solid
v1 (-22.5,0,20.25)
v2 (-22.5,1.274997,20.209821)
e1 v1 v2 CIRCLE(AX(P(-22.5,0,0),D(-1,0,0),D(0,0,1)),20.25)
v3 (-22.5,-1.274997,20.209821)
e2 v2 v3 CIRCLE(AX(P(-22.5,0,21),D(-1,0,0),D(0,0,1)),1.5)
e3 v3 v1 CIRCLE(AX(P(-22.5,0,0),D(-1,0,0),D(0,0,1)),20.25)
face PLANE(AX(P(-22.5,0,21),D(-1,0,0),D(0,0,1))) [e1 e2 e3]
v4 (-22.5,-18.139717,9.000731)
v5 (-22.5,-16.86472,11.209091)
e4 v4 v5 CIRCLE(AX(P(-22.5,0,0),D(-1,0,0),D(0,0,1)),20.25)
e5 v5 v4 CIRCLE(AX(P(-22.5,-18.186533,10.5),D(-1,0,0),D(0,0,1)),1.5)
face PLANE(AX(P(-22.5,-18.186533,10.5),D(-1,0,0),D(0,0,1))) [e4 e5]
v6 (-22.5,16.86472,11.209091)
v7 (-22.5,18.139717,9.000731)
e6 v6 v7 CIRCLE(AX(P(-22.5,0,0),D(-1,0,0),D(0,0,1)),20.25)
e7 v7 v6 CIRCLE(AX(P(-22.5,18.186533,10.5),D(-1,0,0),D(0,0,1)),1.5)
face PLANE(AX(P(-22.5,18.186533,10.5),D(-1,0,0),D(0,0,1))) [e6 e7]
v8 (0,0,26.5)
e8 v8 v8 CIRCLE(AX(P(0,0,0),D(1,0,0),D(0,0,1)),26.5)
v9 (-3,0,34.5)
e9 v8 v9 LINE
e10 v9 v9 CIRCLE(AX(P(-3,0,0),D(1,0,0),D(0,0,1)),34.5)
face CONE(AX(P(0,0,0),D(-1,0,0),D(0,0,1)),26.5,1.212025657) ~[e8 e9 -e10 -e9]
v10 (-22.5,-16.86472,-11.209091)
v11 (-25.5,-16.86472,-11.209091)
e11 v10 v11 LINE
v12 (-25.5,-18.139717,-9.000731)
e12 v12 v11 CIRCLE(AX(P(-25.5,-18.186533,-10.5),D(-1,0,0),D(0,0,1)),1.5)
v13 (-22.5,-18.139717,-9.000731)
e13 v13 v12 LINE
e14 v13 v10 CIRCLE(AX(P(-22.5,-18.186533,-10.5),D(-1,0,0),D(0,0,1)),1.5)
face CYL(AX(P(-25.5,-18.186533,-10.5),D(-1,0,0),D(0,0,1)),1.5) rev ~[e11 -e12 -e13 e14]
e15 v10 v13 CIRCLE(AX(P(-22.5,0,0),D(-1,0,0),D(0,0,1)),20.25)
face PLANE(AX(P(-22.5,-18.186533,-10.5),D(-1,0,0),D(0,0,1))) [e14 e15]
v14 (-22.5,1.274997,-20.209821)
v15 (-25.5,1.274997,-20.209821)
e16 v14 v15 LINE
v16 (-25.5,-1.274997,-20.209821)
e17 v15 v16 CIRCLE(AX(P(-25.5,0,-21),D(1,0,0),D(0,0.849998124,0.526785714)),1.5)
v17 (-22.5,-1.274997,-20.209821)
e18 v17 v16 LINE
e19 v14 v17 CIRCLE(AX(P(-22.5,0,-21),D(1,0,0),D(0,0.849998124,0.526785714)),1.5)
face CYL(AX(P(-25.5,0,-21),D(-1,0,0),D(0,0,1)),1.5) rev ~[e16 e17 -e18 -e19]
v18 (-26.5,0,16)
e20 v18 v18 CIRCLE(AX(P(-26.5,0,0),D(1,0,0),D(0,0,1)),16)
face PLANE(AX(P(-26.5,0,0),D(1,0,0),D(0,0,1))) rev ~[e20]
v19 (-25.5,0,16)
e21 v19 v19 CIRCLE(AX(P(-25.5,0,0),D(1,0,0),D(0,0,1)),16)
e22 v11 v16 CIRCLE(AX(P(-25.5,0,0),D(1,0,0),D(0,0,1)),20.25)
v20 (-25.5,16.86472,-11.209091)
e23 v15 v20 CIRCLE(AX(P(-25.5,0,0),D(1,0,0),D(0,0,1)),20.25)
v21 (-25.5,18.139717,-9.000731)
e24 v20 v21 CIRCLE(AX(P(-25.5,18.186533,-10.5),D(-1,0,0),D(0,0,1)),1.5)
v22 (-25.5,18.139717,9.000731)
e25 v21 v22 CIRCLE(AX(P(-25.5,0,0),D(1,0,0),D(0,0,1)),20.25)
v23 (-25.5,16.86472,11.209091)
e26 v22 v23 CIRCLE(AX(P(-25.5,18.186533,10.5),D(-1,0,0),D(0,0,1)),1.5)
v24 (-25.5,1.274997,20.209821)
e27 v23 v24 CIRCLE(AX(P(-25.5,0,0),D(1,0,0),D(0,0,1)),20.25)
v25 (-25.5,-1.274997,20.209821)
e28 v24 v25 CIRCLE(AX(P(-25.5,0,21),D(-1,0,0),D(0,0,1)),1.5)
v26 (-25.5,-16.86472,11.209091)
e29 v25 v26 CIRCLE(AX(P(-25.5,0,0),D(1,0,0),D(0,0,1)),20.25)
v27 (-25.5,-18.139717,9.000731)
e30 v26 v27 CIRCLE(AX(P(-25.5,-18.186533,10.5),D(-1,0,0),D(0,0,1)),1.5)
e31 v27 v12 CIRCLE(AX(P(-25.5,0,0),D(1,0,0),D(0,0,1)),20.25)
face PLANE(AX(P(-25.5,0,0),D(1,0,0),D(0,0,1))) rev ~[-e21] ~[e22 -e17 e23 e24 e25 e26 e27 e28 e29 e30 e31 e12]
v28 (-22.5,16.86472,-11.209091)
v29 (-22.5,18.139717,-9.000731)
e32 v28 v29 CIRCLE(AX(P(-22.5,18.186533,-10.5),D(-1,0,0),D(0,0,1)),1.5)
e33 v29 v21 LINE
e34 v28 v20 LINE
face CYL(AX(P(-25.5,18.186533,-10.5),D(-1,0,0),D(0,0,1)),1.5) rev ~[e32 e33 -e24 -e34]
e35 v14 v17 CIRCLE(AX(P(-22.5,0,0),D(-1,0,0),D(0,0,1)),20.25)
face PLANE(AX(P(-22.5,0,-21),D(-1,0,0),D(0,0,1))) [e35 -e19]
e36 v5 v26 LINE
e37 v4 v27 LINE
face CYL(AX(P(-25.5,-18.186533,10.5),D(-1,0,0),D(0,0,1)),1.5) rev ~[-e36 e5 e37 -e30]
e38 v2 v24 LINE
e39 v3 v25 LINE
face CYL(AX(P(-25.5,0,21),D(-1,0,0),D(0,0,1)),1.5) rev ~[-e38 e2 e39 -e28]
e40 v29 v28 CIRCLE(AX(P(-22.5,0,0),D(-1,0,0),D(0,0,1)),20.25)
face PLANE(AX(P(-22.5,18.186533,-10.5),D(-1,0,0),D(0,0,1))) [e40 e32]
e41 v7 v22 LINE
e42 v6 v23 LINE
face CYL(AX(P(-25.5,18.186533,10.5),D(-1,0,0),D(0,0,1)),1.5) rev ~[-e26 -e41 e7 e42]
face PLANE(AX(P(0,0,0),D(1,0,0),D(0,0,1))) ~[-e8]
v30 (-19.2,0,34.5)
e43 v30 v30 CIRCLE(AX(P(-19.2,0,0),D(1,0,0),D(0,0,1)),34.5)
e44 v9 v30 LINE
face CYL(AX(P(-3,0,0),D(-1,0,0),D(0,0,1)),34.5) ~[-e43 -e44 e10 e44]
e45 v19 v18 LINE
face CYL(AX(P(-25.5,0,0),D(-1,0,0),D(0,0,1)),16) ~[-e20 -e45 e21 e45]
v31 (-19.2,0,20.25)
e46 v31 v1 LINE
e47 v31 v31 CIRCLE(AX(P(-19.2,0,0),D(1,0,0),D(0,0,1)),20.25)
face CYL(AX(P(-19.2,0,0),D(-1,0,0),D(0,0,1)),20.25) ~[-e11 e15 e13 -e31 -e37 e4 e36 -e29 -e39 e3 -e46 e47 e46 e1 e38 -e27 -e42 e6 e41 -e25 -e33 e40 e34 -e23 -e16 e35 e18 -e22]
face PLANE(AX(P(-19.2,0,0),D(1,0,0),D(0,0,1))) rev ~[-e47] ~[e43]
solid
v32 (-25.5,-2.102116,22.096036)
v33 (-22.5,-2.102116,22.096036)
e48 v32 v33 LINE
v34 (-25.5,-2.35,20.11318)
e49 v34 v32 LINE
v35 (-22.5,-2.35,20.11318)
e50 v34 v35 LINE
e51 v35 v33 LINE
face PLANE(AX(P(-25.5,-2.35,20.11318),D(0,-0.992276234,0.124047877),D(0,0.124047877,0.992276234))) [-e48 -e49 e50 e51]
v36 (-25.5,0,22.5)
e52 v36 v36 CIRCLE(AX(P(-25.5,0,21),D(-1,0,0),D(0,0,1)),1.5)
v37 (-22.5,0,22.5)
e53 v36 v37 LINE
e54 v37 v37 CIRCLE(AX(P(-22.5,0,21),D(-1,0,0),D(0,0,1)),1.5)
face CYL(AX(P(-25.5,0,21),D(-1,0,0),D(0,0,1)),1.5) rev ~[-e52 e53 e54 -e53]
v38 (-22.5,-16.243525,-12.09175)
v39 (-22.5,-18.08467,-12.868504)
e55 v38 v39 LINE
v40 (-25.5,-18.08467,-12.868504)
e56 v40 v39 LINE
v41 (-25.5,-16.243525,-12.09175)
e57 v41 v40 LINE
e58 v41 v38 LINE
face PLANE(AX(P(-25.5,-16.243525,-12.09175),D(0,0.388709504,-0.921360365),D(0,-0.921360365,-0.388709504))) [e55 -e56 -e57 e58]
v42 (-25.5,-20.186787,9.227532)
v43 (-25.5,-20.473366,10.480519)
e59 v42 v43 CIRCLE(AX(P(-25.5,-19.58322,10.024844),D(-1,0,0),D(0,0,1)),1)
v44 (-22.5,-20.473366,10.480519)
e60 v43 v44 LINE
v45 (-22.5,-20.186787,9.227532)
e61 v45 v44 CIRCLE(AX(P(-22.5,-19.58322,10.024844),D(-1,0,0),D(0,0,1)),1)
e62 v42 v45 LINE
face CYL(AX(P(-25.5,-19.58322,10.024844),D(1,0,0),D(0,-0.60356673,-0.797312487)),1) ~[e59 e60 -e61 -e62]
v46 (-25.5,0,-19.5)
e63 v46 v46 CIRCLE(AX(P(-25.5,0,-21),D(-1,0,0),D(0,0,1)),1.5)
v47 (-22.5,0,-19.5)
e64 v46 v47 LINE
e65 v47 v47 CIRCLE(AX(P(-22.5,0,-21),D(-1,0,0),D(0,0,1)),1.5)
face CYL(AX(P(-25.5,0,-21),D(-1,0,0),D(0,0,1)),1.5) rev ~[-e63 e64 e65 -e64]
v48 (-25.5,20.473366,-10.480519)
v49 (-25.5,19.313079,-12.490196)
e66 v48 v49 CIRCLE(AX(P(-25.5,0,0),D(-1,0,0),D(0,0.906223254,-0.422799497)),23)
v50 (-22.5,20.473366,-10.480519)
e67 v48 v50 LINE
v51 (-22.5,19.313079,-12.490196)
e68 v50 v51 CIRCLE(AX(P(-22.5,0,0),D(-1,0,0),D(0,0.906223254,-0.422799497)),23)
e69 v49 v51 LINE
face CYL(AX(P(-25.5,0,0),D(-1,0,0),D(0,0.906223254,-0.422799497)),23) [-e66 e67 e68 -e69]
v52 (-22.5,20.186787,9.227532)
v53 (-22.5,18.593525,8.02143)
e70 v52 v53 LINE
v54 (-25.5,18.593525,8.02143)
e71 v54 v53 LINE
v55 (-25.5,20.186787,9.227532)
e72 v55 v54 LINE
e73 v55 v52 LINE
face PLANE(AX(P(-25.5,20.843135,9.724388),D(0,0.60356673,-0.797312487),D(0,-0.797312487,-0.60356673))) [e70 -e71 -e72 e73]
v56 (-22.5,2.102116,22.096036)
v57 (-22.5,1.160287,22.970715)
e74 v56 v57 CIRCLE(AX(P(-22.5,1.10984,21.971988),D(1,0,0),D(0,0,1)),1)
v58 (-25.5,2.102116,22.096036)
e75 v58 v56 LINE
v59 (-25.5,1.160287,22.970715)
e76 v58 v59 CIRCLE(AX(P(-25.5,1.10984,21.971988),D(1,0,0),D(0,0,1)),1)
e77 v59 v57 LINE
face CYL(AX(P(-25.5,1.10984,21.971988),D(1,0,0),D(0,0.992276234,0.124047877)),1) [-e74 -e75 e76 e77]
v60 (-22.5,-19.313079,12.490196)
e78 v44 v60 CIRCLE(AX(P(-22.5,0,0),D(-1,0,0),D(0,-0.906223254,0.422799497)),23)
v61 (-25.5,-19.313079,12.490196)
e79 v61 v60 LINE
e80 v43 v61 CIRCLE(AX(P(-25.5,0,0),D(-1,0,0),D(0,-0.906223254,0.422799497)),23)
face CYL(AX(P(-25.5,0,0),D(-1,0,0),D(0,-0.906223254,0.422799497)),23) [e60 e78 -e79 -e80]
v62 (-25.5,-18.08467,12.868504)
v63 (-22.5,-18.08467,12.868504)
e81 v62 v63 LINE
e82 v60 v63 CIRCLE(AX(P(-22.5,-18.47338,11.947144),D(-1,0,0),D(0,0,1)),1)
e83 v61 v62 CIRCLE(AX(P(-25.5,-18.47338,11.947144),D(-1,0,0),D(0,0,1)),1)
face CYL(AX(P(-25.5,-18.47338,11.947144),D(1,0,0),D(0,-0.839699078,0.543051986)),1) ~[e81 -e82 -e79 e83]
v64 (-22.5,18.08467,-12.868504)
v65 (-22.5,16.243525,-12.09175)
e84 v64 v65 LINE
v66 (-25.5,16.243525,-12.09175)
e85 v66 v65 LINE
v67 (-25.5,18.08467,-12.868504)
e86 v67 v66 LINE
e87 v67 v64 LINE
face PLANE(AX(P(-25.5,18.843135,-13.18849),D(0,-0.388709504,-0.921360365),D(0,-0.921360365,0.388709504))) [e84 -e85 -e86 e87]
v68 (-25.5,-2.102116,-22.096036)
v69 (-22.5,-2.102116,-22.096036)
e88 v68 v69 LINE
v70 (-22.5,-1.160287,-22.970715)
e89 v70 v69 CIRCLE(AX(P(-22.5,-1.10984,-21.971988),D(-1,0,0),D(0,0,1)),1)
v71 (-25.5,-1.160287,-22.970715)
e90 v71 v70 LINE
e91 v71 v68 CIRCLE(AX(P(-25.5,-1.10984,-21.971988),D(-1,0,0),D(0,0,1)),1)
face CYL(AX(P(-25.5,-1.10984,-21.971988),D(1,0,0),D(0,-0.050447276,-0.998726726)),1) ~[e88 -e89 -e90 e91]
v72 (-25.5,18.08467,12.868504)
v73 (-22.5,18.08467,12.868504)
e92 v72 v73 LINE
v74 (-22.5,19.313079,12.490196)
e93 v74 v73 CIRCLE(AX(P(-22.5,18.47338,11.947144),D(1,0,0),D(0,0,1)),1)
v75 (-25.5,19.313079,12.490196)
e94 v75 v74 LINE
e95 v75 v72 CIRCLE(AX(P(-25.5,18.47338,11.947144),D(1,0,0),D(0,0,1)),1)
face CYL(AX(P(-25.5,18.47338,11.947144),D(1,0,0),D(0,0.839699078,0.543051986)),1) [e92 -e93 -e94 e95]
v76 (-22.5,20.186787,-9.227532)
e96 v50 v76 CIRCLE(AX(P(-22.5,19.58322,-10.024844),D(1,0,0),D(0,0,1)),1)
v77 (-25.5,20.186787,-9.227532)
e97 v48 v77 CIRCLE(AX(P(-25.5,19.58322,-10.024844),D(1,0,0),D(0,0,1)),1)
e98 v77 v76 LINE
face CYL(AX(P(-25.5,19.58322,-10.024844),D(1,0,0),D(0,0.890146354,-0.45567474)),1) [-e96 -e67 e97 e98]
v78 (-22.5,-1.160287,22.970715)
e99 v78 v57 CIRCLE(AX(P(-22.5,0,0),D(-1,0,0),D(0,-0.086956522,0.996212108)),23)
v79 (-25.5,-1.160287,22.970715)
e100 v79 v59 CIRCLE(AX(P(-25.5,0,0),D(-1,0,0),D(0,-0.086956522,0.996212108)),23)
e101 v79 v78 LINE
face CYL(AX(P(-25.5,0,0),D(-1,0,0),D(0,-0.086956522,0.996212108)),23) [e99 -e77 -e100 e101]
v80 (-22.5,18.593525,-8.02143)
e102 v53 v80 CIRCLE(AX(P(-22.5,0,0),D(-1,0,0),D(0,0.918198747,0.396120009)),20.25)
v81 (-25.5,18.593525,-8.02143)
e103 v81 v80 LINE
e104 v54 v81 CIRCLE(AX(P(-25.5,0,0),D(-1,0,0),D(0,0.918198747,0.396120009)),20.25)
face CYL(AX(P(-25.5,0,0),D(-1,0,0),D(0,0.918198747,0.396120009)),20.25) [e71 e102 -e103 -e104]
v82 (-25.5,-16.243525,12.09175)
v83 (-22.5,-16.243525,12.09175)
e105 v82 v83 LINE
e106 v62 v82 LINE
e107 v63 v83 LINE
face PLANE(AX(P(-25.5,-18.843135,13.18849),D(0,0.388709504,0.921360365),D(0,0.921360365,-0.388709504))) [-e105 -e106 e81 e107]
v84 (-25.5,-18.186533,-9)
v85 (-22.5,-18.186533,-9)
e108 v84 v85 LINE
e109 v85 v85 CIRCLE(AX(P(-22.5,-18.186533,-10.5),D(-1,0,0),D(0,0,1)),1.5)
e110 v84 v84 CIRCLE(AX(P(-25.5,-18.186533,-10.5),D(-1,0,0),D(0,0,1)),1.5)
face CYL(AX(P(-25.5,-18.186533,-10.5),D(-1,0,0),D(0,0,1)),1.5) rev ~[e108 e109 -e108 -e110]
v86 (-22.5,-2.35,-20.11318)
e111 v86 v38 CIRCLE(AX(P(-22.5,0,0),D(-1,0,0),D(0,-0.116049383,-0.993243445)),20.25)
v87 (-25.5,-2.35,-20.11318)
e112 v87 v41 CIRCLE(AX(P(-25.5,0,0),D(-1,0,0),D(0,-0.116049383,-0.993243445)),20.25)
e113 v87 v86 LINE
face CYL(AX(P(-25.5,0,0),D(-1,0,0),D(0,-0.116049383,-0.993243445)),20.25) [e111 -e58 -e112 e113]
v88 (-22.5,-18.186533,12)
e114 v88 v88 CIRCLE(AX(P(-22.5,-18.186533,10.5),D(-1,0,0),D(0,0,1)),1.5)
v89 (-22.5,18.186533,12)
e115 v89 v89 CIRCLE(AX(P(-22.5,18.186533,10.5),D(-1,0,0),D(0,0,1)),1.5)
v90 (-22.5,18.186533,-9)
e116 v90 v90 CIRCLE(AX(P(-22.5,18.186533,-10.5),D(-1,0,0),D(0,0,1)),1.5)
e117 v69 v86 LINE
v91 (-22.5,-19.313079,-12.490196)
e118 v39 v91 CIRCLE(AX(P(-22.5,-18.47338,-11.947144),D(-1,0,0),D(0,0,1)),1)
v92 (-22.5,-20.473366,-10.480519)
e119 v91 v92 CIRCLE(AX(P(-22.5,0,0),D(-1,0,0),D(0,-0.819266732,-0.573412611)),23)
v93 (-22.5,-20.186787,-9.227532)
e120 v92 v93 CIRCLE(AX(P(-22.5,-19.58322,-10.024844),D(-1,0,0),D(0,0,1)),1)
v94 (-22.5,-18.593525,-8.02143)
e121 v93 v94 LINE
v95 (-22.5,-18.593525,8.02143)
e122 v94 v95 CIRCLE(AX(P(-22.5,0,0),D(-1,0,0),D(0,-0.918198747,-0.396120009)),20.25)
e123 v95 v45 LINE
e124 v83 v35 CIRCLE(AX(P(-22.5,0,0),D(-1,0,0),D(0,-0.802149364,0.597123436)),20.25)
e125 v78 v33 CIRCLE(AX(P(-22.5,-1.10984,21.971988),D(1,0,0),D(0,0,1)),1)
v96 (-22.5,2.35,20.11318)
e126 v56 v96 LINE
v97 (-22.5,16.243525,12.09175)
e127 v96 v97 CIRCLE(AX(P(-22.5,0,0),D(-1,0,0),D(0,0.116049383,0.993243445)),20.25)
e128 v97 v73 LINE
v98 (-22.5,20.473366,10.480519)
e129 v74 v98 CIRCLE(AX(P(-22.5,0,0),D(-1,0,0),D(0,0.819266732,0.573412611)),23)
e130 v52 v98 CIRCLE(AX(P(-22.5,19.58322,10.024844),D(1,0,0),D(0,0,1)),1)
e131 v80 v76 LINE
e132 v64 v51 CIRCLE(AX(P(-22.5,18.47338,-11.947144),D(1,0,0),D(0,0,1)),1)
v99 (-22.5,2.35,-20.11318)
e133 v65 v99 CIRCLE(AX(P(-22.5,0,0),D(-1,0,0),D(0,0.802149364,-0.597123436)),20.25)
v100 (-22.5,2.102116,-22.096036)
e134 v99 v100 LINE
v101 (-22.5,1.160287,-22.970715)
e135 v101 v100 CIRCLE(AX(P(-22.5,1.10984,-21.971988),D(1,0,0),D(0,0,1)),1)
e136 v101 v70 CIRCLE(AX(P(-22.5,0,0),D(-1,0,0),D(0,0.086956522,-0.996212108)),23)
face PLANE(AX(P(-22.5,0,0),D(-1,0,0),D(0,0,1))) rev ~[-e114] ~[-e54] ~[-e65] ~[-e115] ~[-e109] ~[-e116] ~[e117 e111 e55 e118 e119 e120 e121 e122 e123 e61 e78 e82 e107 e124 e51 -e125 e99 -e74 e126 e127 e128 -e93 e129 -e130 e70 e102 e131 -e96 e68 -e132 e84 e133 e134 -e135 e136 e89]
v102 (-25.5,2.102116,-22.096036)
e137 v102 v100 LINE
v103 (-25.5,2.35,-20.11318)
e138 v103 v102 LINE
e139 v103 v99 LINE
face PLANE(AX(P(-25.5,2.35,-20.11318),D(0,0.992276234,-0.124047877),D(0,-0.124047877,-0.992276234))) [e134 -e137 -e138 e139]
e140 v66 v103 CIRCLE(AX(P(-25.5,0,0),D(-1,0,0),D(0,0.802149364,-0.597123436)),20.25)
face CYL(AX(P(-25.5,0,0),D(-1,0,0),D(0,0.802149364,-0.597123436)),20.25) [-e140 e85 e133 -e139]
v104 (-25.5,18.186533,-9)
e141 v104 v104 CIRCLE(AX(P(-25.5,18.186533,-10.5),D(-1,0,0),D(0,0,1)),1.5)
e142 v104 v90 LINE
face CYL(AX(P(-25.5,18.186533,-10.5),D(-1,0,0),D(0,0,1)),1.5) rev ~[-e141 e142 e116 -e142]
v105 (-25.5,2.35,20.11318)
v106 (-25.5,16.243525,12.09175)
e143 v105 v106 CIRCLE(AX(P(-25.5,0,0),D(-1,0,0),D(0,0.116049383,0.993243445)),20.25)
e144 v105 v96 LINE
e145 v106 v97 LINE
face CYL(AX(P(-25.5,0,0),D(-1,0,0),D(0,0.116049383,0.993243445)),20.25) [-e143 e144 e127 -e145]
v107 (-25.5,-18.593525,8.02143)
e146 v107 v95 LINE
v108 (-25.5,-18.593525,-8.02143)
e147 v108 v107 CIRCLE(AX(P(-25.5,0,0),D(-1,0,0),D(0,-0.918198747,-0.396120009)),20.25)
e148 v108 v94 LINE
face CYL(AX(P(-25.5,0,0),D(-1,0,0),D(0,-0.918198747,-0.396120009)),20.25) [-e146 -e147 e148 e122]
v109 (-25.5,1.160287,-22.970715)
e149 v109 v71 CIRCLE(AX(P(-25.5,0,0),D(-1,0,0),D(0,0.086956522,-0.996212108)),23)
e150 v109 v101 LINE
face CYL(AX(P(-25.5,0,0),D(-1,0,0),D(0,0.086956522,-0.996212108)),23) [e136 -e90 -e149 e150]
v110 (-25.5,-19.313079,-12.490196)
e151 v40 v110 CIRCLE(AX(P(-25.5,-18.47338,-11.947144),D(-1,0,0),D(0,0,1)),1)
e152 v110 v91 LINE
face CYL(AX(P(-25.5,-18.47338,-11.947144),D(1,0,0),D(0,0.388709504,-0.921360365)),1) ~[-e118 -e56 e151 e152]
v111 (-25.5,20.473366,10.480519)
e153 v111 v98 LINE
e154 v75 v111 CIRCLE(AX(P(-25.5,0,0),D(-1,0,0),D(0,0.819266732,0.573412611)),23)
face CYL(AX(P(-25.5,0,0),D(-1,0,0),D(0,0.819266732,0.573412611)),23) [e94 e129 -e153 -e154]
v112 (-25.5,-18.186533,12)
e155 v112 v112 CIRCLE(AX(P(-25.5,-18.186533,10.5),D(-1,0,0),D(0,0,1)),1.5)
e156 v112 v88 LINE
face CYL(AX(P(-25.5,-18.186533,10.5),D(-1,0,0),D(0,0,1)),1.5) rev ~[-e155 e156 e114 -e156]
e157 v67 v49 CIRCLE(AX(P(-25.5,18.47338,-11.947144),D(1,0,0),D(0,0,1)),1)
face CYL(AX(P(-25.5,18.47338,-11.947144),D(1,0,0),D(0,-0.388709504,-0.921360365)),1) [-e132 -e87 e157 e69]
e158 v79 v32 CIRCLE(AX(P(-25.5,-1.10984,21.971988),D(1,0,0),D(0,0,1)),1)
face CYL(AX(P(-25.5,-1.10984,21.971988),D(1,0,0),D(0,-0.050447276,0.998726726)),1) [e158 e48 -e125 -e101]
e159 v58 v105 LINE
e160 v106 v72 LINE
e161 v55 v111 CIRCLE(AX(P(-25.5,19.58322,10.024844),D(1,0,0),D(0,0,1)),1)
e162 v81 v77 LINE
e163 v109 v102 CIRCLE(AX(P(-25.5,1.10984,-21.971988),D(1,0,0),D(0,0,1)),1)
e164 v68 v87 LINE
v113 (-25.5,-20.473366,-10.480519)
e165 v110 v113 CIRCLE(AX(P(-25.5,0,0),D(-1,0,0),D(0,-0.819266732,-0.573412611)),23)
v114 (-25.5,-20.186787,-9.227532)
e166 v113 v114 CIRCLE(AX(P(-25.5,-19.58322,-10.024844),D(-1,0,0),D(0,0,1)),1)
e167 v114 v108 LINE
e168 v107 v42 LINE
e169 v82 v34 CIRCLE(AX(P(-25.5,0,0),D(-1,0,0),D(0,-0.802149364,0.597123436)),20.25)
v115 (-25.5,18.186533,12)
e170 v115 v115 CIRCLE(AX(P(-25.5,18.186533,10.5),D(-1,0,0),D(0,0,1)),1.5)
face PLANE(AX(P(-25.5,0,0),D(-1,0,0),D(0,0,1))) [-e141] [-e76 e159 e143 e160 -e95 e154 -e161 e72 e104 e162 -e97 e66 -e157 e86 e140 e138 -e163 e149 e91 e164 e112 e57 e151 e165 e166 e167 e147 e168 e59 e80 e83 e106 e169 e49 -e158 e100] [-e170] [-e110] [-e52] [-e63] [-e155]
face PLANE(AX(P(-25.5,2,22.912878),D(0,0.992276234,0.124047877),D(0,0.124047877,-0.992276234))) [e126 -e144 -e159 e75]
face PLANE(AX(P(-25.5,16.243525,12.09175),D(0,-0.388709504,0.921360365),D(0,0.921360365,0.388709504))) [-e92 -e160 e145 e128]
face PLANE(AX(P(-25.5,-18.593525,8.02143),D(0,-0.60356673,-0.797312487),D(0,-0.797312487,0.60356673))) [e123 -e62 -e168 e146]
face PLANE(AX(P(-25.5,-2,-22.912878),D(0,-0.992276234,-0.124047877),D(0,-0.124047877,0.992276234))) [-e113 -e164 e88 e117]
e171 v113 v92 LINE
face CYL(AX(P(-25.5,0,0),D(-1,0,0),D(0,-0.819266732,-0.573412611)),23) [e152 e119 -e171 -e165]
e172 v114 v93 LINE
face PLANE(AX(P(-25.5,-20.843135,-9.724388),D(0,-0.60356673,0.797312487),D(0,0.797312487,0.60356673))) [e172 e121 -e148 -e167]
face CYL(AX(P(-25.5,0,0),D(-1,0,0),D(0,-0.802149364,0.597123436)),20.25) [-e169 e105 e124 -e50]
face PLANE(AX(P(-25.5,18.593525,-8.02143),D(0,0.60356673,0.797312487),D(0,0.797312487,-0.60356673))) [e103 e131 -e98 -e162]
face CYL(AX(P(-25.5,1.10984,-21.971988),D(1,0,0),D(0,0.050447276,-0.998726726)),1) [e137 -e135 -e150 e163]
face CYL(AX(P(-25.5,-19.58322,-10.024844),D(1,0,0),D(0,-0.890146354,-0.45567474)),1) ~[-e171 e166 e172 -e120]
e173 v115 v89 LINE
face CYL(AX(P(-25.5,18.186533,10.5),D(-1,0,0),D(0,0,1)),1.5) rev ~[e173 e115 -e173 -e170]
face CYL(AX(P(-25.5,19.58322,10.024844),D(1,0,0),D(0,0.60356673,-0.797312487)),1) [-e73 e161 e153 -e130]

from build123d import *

# Parameters (mm, degrees)
SKETCH2_R           = 1.5
SKETCH2_R_2         = 20.25
SKETCH2_R_3         = 16
BOSS_EXTRUDE2_DEPTH = 3
SKETCH2_3_R         = 1.5
CUT_EXTRUDE1_DEPTH  = 3
FILLET1_R           = 1


with BuildPart() as part:
    # Sketch1 → Revolve1 (revolve)
    with BuildSketch(Plane.XY, mode=Mode.PRIVATE) as revolve1_sk:
        Polygon((0, 0), (0, 26.5), (-3, 34.5), (-19.2, 34.5), (-19.2, 20.25), (-25.5, 20.25), (-25.5, 16), (-26.5, 16), (-26.5, 0), align=None)
    revolve(revolve1_sk.sketch.rotate(Axis((-26.134704071, 0, 0), (1, 0, 0)), 90), axis=Axis((-26.134704071, 0, 0), (1, 0, 0)))


with BuildPart() as body_2:
    # Sketch2 → Boss-Extrude2 (new body)
    # profile 1 of 26: a face of its own
    with BuildSketch(Plane.ZY.offset(25.5)):
        with Locations((10.5, -18.186533479)):
            Circle(SKETCH2_R)
    # profile 2 of 26: a face of its own
    with BuildSketch(Plane.ZY.offset(25.5)):
        Circle(SKETCH2_R_2)
    # profile 3 of 26: a face of its own
    with BuildSketch(Plane.ZY.offset(25.5)):
        with Locations((10.5, -18.186533479)):
            Circle(SKETCH2_R)
    # profile 4 of 26: a face of its own
    with BuildSketch(Plane.ZY.offset(25.5)):
        Circle(SKETCH2_R_2)
    # profile 5 of 26: a face of its own
    with BuildSketch(Plane.ZY.offset(25.5)):
        with Locations((-10.5, -18.186533479)):
            Circle(SKETCH2_R)
    # profile 6 of 26: a face of its own
    with BuildSketch(Plane.ZY.offset(25.5)):
        Circle(SKETCH2_R_2)
    # profile 7 of 26: a face of its own
    with BuildSketch(Plane.ZY.offset(25.5)):
        with Locations((21, 0)):
            Circle(SKETCH2_R)
    # profile 8 of 26: a face of its own
    with BuildSketch(Plane.ZY.offset(25.5)):
        Circle(SKETCH2_R_2)
    # profile 9 of 26: a face of its own
    with BuildSketch(Plane.ZY.offset(25.5)):
        with Locations((21, 0)):
            Circle(SKETCH2_R)
    # profile 10 of 26: a face of its own
    with BuildSketch(Plane.ZY.offset(25.5)):
        Circle(SKETCH2_R_2)
    # profile 11 of 26: a face of its own
    with BuildSketch(Plane.ZY.offset(25.5)):
        with Locations((10.5, 18.186533479)):
            Circle(SKETCH2_R)
    # profile 12 of 26: a face of its own
    with BuildSketch(Plane.ZY.offset(25.5)):
        Circle(SKETCH2_R_2)
    # profile 13 of 26: a face of its own
    with BuildSketch(Plane.ZY.offset(25.5)):
        with Locations((10.5, 18.186533479)):
            Circle(SKETCH2_R)
    # profile 14 of 26: a face of its own
    with BuildSketch(Plane.ZY.offset(25.5)):
        Circle(SKETCH2_R_2)
    # profile 15 of 26: a face of its own
    with BuildSketch(Plane.ZY.offset(25.5)):
        with Locations((-10.5, 18.186533479)):
            Circle(SKETCH2_R)
    # profile 16 of 26: a face of its own
    with BuildSketch(Plane.ZY.offset(25.5)):
        Circle(SKETCH2_R_2)
    # profile 17 of 26: a face of its own
    with BuildSketch(Plane.ZY.offset(25.5)):
        with Locations((-10.5, 18.186533479)):
            Circle(SKETCH2_R)
    # profile 18 of 26: a face of its own
    with BuildSketch(Plane.ZY.offset(25.5)):
        Circle(SKETCH2_R_2)
    # profile 19 of 26: a face of its own
    with BuildSketch(Plane.ZY.offset(25.5)):
        with Locations((-21, 0)):
            Circle(SKETCH2_R)
    # profile 20 of 26: a face of its own
    with BuildSketch(Plane.ZY.offset(25.5)):
        with Locations((-10.5, -18.186533479)):
            Circle(SKETCH2_R)
    # profile 21 of 26: a face of its own
    with BuildSketch(Plane.ZY.offset(25.5)):
        with Locations((10.5, -18.186533479)):
            Circle(SKETCH2_R)
    # profile 22 of 26: a face of its own
    with BuildSketch(Plane.ZY.offset(25.5)):
        with Locations((21, 0)):
            Circle(SKETCH2_R)
    # profile 23 of 26: a face of its own
    with BuildSketch(Plane.ZY.offset(25.5)):
        with Locations((10.5, 18.186533479)):
            Circle(SKETCH2_R)
    # profile 24 of 26: a face of its own
    with BuildSketch(Plane.ZY.offset(25.5)):
        with Locations((-10.5, 18.186533479)):
            Circle(SKETCH2_R)
    # profile 25 of 26: a face of its own
    with BuildSketch(Plane.ZY.offset(25.5)):
        Circle(SKETCH2_R_2)
        Circle(SKETCH2_R_3, mode=Mode.SUBTRACT)
    # profile 26 of 26: a face of its own
    with BuildSketch(Plane.ZY.offset(25.5)):
        with BuildLine():
            ThreePointArc((-22.912878475, 2), (-23, 0), (-22.912878475, -2))
            Line((-22.912878475, -2), (-20.113179759, -2.35))
            ThreePointArc((-20.113179759, -2.35), (-17.537014427, -10.125), (-12.091749578, -16.243524622))
            Line((-12.091749578, -16.243524622), (-13.188490045, -18.843134833))
            ThreePointArc((-13.188490045, -18.843134833), (-11.5, -19.918584287), (-9.72438843, -20.843134833))
            Line((-9.72438843, -20.843134833), (-8.02143018, -18.593524622))
            ThreePointArc((-8.02143018, -18.593524622), (0, -20.25), (8.02143018, -18.593524622))
            Line((8.02143018, -18.593524622), (9.72438843, -20.843134833))
            ThreePointArc((9.72438843, -20.843134833), (11.5, -19.918584287), (13.188490045, -18.843134833))
            Line((13.188490045, -18.843134833), (12.091749578, -16.243524622))
            ThreePointArc((12.091749578, -16.243524622), (17.537014427, -10.125), (20.113179759, -2.35))
            Line((20.113179759, -2.35), (22.912878475, -2))
            ThreePointArc((22.912878475, -2), (23, 0), (22.912878475, 2))
            Line((22.912878475, 2), (20.113179759, 2.35))
            ThreePointArc((20.113179759, 2.35), (17.537014427, 10.125), (12.091749578, 16.243524622))
            Line((12.091749578, 16.243524622), (13.188490045, 18.843134833))
            ThreePointArc((13.188490045, 18.843134833), (11.5, 19.918584287), (9.72438843, 20.843134833))
            Line((9.72438843, 20.843134833), (8.02143018, 18.593524622))
            ThreePointArc((8.02143018, 18.593524622), (0, 20.25), (-8.02143018, 18.593524622))
            Line((-8.02143018, 18.593524622), (-9.72438843, 20.843134833))
            ThreePointArc((-9.72438843, 20.843134833), (-11.5, 19.918584287), (-13.188490045, 18.843134833))
            Line((-13.188490045, 18.843134833), (-12.091749578, 16.243524622))
            ThreePointArc((-12.091749578, 16.243524622), (-17.537014427, 10.125), (-20.113179759, 2.35))
            Line((-20.113179759, 2.35), (-22.912878475, 2))
        make_face()
    extrude(amount=-BOSS_EXTRUDE2_DEPTH)


with BuildPart() as cut_extrude1_tool:
    # Sketch2<3> → Cut-Extrude1 (new body)
    with BuildSketch(Plane.ZY.offset(25.5)):
        with Locations((-10.5, 18.186533479)):
            Circle(SKETCH2_3_R)
        with Locations((10.5, 18.186533479)):
            Circle(SKETCH2_3_R)
        with Locations((21, 0)):
            Circle(SKETCH2_3_R)
        with Locations((10.5, -18.186533479)):
            Circle(SKETCH2_3_R)
        with Locations((-10.5, -18.186533479)):
            Circle(SKETCH2_3_R)
        with Locations((-21, 0)):
            Circle(SKETCH2_3_R)
    extrude(amount=-CUT_EXTRUDE1_DEPTH)


with BuildPart() as part_1:
    add(part.part)

    # Cut-Extrude1: cut by cut_extrude1_tool
    add(cut_extrude1_tool.part, mode=Mode.SUBTRACT)


with BuildPart() as body_2_1:
    add(body_2.part)

    # Cut-Extrude1: cut by cut_extrude1_tool
    add(cut_extrude1_tool.part, mode=Mode.SUBTRACT)

    # Fillet1
    fillet1_edges = [body_2_1.edges().sort_by_distance(p)[0] for p in [
        (-24, 18.843134833, -13.188490045),
        (-24, 20.843134833, -9.72438843),
        (-24, 20.843134833, 9.72438843),
        (-24, 18.843134833, 13.188490045),
        (-24, 2, 22.912878475),
        (-24, -2, 22.912878475),
        (-24, -18.843134833, 13.188490045),
        (-24, -20.843134833, 9.72438843),
        (-24, -20.843134833, -9.72438843),
        (-24, -18.843134833, -13.188490045),
        (-24, -2, -22.912878475),
        (-24, 2, -22.912878475),
    ]]
    fillet(fillet1_edges, radius=FILLET1_R)


solid = Compound([part_1.part, body_2_1.part])
